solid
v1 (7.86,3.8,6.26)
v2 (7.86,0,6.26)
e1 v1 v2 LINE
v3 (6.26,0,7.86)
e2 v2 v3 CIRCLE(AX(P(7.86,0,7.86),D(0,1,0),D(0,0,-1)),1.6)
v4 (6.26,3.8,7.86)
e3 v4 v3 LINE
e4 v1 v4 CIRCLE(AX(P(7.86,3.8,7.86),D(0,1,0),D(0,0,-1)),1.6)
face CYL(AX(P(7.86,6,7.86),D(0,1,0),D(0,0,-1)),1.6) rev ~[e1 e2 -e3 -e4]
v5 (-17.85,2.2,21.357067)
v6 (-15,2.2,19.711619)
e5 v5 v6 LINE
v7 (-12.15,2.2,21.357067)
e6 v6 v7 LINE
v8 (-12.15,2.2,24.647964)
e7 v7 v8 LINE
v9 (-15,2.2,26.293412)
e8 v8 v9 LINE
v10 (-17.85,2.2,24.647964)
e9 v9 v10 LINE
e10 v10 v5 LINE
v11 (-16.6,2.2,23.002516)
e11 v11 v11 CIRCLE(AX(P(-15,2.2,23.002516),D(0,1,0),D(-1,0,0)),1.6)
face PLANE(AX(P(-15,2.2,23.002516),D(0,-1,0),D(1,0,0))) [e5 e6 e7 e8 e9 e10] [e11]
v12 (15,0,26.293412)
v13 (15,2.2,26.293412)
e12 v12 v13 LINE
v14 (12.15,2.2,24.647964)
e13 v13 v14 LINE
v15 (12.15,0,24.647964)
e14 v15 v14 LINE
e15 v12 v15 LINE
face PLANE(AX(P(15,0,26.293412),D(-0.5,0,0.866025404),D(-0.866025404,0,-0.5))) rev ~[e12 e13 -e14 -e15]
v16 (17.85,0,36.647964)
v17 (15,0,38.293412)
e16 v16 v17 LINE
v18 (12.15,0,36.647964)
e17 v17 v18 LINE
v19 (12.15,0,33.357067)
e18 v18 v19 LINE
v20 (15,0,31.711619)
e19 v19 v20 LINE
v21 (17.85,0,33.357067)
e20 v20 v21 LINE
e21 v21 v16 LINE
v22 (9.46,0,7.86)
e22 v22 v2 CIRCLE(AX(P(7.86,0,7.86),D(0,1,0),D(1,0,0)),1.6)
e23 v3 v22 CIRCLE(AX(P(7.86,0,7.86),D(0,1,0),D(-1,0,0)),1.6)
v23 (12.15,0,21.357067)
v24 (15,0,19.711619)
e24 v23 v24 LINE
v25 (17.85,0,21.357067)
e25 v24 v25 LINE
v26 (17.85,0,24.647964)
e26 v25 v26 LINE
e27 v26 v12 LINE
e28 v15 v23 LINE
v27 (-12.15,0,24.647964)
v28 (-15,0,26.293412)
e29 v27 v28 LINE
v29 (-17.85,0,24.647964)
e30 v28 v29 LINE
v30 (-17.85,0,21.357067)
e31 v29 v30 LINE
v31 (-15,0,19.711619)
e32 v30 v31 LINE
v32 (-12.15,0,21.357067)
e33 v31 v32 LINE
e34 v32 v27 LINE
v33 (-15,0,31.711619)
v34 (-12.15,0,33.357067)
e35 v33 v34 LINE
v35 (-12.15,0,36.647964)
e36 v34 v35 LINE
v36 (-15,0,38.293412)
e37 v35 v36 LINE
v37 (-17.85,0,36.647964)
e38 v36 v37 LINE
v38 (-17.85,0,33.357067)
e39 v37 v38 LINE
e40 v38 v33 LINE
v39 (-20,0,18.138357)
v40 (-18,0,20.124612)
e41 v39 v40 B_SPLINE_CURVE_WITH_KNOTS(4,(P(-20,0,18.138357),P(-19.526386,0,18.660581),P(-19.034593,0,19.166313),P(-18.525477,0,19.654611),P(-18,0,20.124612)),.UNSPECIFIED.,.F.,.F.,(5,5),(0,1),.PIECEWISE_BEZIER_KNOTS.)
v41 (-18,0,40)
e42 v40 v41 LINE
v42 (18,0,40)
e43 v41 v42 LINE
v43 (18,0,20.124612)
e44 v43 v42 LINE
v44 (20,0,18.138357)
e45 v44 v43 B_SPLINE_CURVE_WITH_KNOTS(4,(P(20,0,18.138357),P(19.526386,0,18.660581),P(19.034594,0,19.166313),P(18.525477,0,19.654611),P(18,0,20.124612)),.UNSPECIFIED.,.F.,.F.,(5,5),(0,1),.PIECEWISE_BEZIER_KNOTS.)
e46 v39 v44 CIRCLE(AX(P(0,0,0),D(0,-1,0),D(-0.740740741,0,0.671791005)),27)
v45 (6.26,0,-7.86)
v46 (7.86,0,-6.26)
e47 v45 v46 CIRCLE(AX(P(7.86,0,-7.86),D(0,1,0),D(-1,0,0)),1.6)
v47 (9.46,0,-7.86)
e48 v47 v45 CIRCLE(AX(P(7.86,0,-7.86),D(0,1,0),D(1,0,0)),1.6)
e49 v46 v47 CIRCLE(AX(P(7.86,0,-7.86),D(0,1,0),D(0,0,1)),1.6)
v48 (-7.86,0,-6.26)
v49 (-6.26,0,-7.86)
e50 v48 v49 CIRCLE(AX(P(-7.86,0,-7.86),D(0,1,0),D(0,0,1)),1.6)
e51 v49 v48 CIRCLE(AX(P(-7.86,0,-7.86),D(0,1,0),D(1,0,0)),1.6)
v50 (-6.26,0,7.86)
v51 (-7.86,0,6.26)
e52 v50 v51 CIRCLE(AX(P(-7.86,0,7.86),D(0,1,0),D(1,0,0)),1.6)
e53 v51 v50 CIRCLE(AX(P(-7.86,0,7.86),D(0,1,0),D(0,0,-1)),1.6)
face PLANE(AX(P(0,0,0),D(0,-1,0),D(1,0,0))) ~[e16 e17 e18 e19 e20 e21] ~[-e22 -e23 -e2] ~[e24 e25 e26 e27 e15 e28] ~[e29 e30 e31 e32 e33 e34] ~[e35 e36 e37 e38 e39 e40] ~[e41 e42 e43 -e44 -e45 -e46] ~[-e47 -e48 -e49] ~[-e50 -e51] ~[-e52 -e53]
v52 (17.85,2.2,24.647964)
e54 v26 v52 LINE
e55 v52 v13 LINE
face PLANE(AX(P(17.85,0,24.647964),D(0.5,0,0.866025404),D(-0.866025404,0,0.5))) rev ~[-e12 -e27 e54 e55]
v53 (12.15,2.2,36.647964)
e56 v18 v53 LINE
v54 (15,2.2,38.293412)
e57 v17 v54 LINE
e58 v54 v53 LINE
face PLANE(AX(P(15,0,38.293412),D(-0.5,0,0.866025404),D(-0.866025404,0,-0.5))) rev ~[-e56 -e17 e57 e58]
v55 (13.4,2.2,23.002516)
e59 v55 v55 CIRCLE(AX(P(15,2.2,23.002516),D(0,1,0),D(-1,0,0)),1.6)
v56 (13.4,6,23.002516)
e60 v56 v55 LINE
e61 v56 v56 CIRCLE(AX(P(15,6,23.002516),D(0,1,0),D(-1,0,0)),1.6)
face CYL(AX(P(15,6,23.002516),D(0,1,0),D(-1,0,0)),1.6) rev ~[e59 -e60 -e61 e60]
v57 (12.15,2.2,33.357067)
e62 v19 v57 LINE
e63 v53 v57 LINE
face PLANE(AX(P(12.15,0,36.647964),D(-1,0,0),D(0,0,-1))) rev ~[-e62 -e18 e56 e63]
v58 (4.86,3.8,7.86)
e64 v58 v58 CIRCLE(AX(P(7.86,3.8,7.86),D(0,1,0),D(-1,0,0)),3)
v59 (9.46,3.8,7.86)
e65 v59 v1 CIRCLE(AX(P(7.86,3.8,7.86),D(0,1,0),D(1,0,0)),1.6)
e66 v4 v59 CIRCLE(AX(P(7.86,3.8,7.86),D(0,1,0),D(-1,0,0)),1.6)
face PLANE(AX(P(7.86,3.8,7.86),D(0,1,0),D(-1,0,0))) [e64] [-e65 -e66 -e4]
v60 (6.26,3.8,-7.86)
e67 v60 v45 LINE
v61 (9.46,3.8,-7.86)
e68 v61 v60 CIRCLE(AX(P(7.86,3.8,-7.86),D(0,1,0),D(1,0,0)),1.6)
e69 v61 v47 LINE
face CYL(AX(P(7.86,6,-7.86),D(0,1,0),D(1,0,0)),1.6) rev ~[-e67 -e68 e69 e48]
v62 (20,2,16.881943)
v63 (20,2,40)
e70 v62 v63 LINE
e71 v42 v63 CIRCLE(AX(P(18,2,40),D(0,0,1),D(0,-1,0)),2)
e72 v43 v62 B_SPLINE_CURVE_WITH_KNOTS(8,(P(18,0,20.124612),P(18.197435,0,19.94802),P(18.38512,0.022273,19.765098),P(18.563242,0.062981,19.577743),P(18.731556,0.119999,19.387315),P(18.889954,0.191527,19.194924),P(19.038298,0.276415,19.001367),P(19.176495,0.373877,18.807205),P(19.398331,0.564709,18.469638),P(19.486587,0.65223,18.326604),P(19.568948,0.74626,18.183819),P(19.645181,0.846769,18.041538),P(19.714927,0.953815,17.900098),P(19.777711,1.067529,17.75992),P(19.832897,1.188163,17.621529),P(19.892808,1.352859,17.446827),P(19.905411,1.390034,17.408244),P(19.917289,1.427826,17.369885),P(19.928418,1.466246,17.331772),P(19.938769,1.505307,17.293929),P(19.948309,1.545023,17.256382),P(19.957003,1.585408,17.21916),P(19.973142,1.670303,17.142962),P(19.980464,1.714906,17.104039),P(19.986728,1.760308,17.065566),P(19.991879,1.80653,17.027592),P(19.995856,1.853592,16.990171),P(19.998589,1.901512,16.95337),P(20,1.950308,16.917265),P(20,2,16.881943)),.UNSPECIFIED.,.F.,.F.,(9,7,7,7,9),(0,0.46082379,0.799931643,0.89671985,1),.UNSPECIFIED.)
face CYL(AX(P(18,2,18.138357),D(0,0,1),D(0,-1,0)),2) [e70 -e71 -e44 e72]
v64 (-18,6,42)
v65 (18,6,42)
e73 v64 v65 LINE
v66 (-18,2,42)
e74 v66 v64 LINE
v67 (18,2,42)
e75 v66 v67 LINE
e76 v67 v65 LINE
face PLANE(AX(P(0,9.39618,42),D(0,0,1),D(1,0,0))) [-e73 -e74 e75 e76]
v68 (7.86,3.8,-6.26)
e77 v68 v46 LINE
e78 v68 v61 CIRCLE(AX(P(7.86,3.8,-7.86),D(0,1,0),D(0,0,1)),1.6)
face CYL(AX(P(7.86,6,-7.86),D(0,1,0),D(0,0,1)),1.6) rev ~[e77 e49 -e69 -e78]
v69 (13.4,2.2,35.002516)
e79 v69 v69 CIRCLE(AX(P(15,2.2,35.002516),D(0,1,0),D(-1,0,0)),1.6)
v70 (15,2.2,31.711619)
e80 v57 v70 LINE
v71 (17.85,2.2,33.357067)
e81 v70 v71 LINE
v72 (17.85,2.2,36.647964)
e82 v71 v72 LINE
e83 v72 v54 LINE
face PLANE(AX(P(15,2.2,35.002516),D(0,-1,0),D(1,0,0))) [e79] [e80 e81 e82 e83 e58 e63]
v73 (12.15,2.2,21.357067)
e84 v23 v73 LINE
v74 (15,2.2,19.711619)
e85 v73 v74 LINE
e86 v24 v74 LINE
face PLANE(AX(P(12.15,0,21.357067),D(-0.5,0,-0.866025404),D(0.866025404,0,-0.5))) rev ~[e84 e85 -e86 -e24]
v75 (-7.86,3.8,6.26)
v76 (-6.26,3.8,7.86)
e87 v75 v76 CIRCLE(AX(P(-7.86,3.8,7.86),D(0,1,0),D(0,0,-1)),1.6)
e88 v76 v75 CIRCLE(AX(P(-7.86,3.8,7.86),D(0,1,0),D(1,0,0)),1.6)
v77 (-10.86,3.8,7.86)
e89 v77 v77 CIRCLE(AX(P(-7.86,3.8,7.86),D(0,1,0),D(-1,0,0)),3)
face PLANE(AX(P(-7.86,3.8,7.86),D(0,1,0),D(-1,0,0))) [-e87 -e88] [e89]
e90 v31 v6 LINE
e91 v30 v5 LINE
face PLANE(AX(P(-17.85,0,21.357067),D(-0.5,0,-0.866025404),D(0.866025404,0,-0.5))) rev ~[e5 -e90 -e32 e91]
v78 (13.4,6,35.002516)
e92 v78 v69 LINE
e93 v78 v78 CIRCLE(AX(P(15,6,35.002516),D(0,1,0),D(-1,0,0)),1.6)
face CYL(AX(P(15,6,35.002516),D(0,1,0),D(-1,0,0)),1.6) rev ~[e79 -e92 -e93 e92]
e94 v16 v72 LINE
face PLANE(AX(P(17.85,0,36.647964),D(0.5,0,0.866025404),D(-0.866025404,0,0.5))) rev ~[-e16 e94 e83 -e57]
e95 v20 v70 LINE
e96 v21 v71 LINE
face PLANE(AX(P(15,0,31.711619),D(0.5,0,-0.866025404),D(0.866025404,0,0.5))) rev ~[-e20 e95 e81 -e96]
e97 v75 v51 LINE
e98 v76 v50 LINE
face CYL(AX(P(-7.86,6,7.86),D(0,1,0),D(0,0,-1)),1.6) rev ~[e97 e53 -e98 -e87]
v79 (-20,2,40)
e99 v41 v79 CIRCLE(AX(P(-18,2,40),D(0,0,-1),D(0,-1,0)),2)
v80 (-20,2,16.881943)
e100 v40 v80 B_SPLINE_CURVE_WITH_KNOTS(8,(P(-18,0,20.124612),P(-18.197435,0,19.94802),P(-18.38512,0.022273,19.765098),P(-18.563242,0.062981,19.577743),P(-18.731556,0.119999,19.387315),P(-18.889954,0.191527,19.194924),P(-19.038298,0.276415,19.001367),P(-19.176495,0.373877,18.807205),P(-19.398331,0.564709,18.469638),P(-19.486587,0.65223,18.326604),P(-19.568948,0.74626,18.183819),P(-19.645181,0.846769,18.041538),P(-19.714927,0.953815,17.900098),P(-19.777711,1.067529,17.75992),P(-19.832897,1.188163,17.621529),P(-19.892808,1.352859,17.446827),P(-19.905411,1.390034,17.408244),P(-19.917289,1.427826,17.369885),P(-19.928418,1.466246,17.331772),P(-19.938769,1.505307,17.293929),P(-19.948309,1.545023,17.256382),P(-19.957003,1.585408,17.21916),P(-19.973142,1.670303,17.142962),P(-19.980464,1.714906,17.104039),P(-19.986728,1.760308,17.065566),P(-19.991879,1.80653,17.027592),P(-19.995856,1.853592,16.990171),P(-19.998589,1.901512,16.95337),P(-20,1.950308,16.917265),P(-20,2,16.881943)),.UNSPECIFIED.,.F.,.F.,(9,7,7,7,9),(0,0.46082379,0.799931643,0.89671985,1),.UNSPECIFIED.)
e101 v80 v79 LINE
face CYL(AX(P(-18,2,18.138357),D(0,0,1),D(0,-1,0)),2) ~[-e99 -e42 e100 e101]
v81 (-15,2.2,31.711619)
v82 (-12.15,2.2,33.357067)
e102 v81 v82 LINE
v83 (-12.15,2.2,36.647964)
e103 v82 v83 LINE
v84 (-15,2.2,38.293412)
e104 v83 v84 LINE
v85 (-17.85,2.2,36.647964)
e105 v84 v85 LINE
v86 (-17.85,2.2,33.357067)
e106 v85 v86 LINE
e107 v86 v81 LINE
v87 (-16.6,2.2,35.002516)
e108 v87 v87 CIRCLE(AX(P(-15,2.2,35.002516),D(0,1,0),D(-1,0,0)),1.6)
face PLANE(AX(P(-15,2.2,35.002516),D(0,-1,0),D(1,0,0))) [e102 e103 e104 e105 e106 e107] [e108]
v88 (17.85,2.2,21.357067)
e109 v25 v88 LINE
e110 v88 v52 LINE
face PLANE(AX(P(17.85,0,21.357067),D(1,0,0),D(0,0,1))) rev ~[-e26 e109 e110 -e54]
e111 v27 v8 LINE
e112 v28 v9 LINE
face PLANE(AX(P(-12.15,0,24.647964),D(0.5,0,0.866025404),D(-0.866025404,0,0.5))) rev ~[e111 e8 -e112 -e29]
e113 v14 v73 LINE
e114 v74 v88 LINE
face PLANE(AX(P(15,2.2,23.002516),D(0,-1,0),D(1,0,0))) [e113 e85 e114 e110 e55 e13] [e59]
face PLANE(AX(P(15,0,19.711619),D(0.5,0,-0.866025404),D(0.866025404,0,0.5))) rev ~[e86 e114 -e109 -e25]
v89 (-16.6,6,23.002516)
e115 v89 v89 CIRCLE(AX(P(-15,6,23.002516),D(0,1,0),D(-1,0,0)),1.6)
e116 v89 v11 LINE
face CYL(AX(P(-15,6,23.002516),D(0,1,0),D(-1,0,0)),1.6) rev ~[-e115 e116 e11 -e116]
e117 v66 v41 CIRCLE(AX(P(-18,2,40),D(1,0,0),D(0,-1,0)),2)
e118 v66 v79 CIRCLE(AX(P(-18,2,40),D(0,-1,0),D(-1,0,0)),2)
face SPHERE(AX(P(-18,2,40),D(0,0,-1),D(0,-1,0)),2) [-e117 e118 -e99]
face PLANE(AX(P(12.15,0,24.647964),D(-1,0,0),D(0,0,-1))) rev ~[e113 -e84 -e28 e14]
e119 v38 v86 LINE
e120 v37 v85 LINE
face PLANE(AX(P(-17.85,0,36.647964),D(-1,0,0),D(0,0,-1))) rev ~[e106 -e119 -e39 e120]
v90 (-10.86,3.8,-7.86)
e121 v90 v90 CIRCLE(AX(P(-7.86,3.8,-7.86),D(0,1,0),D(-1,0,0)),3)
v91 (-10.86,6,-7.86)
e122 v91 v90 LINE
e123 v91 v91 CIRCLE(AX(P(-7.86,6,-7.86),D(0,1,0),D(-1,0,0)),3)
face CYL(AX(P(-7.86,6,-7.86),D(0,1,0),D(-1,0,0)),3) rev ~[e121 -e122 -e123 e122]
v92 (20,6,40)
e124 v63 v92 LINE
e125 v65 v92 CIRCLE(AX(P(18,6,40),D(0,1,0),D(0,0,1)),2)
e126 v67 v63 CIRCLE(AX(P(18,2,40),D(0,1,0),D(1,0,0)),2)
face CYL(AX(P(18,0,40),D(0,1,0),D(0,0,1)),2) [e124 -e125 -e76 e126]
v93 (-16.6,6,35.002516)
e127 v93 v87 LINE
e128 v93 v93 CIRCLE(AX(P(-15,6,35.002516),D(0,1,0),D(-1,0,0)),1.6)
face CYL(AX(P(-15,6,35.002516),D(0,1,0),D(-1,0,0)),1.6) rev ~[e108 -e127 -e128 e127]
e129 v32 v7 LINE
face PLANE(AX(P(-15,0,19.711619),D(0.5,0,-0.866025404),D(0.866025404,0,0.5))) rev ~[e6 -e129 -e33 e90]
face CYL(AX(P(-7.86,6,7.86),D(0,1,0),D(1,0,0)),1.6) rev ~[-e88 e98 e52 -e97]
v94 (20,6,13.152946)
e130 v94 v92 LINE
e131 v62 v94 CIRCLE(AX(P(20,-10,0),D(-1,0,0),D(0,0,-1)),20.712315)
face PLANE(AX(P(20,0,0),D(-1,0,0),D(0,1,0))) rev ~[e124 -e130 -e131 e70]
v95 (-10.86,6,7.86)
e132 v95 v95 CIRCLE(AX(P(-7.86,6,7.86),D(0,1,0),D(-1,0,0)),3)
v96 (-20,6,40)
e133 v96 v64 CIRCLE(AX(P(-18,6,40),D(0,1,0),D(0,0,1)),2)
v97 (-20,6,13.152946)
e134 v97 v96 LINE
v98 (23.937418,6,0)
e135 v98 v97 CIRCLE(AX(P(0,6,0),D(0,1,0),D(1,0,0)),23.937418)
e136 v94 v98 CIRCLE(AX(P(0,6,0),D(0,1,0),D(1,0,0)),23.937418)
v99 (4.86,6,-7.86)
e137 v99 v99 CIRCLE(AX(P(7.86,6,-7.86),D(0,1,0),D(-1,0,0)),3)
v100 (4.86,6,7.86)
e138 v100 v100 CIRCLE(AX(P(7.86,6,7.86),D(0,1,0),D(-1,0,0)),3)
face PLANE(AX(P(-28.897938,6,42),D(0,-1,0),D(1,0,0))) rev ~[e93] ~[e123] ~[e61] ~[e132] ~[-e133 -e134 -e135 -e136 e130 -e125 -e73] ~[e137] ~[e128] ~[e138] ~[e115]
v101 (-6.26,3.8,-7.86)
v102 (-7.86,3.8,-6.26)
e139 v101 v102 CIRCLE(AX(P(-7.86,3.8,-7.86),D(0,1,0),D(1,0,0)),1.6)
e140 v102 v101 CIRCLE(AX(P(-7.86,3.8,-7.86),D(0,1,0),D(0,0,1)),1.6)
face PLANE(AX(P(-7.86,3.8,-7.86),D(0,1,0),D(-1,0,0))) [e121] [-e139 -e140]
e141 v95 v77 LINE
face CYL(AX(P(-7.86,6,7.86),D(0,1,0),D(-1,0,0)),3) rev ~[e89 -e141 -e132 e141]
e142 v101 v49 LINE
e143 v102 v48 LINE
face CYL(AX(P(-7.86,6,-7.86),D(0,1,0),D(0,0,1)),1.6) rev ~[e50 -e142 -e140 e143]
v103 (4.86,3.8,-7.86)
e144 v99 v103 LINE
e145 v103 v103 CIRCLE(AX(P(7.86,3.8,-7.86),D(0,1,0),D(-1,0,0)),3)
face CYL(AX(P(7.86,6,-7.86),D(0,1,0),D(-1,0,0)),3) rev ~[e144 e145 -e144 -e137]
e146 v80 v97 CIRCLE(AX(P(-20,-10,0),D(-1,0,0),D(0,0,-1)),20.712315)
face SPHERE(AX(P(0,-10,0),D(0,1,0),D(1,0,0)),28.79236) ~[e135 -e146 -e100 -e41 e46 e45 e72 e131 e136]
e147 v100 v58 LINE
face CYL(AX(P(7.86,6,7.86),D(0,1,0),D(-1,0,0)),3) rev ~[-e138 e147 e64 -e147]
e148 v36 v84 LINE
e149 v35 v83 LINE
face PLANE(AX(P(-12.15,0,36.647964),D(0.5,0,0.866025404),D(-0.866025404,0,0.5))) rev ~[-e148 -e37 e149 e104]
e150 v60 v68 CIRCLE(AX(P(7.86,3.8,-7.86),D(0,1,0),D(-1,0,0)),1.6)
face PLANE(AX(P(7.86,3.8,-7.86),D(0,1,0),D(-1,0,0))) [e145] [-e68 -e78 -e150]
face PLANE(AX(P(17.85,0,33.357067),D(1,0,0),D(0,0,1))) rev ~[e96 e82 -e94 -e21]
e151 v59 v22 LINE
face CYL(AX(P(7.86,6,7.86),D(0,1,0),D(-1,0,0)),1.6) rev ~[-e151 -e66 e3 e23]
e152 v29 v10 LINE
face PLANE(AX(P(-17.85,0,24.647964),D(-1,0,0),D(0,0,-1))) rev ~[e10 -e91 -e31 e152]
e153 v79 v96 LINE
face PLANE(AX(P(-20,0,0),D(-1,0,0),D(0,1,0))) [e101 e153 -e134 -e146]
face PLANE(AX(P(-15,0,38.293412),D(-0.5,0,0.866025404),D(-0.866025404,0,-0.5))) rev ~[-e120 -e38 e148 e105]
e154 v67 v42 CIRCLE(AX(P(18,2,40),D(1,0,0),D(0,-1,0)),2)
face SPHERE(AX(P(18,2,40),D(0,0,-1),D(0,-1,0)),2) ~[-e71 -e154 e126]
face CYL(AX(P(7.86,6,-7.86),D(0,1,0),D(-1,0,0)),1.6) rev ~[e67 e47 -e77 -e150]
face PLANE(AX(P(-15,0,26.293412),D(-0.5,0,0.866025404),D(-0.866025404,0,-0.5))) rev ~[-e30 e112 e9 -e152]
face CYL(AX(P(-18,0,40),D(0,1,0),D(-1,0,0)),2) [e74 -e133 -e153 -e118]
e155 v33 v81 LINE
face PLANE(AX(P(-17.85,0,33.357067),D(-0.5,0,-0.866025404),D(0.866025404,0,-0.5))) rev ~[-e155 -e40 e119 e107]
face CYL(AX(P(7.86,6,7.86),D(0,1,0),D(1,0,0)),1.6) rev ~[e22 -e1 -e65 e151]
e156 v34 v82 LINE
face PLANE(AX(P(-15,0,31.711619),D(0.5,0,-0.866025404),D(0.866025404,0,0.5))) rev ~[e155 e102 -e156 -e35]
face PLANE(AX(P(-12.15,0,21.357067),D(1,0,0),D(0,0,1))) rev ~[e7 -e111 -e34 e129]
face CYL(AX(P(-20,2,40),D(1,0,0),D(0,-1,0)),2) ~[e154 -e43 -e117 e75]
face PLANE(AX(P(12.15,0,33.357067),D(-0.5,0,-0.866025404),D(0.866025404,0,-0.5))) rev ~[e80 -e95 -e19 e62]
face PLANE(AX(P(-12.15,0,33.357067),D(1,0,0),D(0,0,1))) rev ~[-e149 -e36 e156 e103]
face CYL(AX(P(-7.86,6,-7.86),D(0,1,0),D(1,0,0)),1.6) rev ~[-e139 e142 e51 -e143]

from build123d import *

# Parameters (mm, degrees)
SKETCH_15_W          = 40
SKETCH_15_H          = 18.792360098
EXTRUDE_5_DEPTH      = 42
CUT_EXTRUDE_9_DEPTH  = 77.440518039
CUT_EXTRUDE_10_DEPTH = 51.289163843
SKETCH_18_R          = 3
CUT_EXTRUDE_11_DEPTH = 2.2
SKETCH_19_R          = 1.6
CUT_EXTRUDE_12_DEPTH = 51.289163843
CUT_EXTRUDE_13_DEPTH = 2.2
FILLET_2_R           = 2


with BuildPart() as part:
    # 草图14 → 旋转4 (revolve)
    with BuildSketch(Plane.XY):
        with BuildLine():
            Line((0, 18.792360098), (0, 0))
            Line((0, 0), (27, 0))
            ThreePointArc((27, 0), (16.448045462, 13.631796387), (0, 18.792360098))
        make_face()
    revolve(axis=Axis((0, 18.792360098, 0), (0, -1, 0)))

    # 草图15 → 凸台-拉伸5 (add)
    with BuildSketch(Plane.XY):
        with Locations((0, 9.396180049)):
            Rectangle(SKETCH_15_W, SKETCH_15_H)
    extrude(amount=EXTRUDE_5_DEPTH)

    # 草图16 → 切除-拉伸9 (cut, through all)
    with BuildSketch(Plane.XY.offset(42)):
        Polygon((-20, 6), (0, 6), (20, 6), (20, 18.792360098), (-20, 18.792360098), align=None)
        Polygon((20, 18.792360098), (20, 6), (23.937418407, 6), (23.937418407, 21.459034266), (-28.897937851, 21.459034266), (-28.897937851, 6), (-20, 6), (-20, 18.792360098), align=None)
    extrude(amount=-CUT_EXTRUDE_9_DEPTH, mode=Mode.SUBTRACT)

    # 草图17 → 切除-拉伸10 (cut, through all)
    with BuildSketch(Plane(origin=(0, 6, 0), x_dir=(1, 0, 0), z_dir=(0, 1, 0))):
        with BuildLine():
            Line((-7.86, 6.26), (-7.86, 7.86))
            Line((-7.86, 7.86), (-6.26, 7.86))
            ThreePointArc((-6.26, 7.86), (-8.99137085, 8.99137085), (-7.86, 6.26))
        make_face()
        with BuildLine():
            Line((-6.26, 7.86), (-7.86, 7.86))
            Line((-7.86, 7.86), (-7.86, 6.26))
            ThreePointArc((-7.86, 6.26), (-6.72862915, 6.72862915), (-6.26, 7.86))
        make_face()
        with BuildLine():
            ThreePointArc((9.46, 7.86), (7.86, 9.46), (6.26, 7.86))
            Line((6.26, 7.86), (7.86, 7.86))
            Line((7.86, 7.86), (7.86, 6.26))
            ThreePointArc((7.86, 6.26), (8.99137085, 6.72862915), (9.46, 7.86))
        make_face()
        with BuildLine():
            Line((7.86, 7.86), (6.26, 7.86))
            ThreePointArc((6.26, 7.86), (6.72862915, 6.72862915), (7.86, 6.26))
            Line((7.86, 6.26), (7.86, 7.86))
        make_face()
        with BuildLine():
            ThreePointArc((9.46, -7.86), (8.99137085, -6.72862915), (7.86, -6.26))
            Line((7.86, -6.26), (7.86, -7.86))
            Line((7.86, -7.86), (6.26, -7.86))
            ThreePointArc((6.26, -7.86), (7.86, -9.46), (9.46, -7.86))
        make_face()
        with BuildLine():
            Line((7.86, -7.86), (7.86, -6.26))
            ThreePointArc((7.86, -6.26), (6.72862915, -6.72862915), (6.26, -7.86))
            Line((6.26, -7.86), (7.86, -7.86))
        make_face()
        with BuildLine():
            ThreePointArc((-6.26, -7.86), (-6.72862915, -6.72862915), (-7.86, -6.26))
            Line((-7.86, -6.26), (-7.86, -7.86))
            Line((-7.86, -7.86), (-6.26, -7.86))
        make_face()
        with BuildLine():
            Line((-7.86, -7.86), (-7.86, -6.26))
            ThreePointArc((-7.86, -6.26), (-8.99137085, -8.99137085), (-6.26, -7.86))
            Line((-6.26, -7.86), (-7.86, -7.86))
        make_face()
    extrude(amount=-CUT_EXTRUDE_10_DEPTH, mode=Mode.SUBTRACT)

    # 草图18 → 切除-拉伸11 (cut)
    with BuildSketch(Plane(origin=(0, 6, 0), x_dir=(1, 0, 0), z_dir=(0, 1, 0))):
        with Locations(Location((7.86, 7.86, 0), (0, 0, 180))):
            Circle(SKETCH_18_R)
        with Locations(Location((7.86, -7.86, 0), (0, 0, 180))):
            Circle(SKETCH_18_R)
        with Locations(Location((-7.86, -7.86, 0), (0, 0, 180))):
            Circle(SKETCH_18_R)
        with Locations(Location((-7.86, 7.86, 0), (0, 0, 180))):
            Circle(SKETCH_18_R)
    extrude(amount=-CUT_EXTRUDE_11_DEPTH, mode=Mode.SUBTRACT)

    # 草图19 → 切除-拉伸12 (cut, through all)
    with BuildSketch(Plane(origin=(0, 6, 0), x_dir=(1, 0, 0), z_dir=(0, 1, 0))):
        with Locations(Location((15, -23.002515628, 0), (0, 0, 180))):
            Circle(SKETCH_19_R)
        with Locations(Location((-15, -23.002515628, 0), (0, 0, 180))):
            Circle(SKETCH_19_R)
        with Locations(Location((-15, -35.002515628, 0), (0, 0, 180))):
            Circle(SKETCH_19_R)
        with Locations(Location((15, -35.002515628, 0), (0, 0, 180))):
            Circle(SKETCH_19_R)
    extrude(amount=-CUT_EXTRUDE_12_DEPTH, mode=Mode.SUBTRACT)

    # 草图20 → 切除-拉伸13 (cut)
    with BuildSketch(Plane.XZ):
        Polygon((-15, 31.711619093), (-12.15, 33.35706736), (-12.15, 36.647963895), (-15, 38.293412162), (-17.85, 36.647963895), (-17.85, 33.35706736), align=None)
        Polygon((15, 31.711619093), (17.85, 33.35706736), (17.85, 36.647963895), (15, 38.293412162), (12.15, 36.647963895), (12.15, 33.35706736), align=None)
        Polygon((-15, 19.711619093), (-12.15, 21.35706736), (-12.15, 24.647963895), (-15, 26.293412162), (-17.85, 24.647963895), (-17.85, 21.35706736), align=None)
        Polygon((15, 19.711619093), (17.85, 21.35706736), (17.85, 24.647963895), (15, 26.293412162), (12.15, 24.647963895), (12.15, 21.35706736), align=None)
    extrude(amount=-CUT_EXTRUDE_13_DEPTH, mode=Mode.SUBTRACT)

    # 圆角2
    fillet_2_edges = [part.edges().sort_by_distance(p)[0] for p in [
        (20, 0, 30.069178574),
        (-20, 0, 30.069178574),
        (0, 0, 42),
        (-20, 3, 42),
        (20, 3, 42),
    ]]
    fillet(fillet_2_edges, radius=FILLET_2_R)


solid = part.part
